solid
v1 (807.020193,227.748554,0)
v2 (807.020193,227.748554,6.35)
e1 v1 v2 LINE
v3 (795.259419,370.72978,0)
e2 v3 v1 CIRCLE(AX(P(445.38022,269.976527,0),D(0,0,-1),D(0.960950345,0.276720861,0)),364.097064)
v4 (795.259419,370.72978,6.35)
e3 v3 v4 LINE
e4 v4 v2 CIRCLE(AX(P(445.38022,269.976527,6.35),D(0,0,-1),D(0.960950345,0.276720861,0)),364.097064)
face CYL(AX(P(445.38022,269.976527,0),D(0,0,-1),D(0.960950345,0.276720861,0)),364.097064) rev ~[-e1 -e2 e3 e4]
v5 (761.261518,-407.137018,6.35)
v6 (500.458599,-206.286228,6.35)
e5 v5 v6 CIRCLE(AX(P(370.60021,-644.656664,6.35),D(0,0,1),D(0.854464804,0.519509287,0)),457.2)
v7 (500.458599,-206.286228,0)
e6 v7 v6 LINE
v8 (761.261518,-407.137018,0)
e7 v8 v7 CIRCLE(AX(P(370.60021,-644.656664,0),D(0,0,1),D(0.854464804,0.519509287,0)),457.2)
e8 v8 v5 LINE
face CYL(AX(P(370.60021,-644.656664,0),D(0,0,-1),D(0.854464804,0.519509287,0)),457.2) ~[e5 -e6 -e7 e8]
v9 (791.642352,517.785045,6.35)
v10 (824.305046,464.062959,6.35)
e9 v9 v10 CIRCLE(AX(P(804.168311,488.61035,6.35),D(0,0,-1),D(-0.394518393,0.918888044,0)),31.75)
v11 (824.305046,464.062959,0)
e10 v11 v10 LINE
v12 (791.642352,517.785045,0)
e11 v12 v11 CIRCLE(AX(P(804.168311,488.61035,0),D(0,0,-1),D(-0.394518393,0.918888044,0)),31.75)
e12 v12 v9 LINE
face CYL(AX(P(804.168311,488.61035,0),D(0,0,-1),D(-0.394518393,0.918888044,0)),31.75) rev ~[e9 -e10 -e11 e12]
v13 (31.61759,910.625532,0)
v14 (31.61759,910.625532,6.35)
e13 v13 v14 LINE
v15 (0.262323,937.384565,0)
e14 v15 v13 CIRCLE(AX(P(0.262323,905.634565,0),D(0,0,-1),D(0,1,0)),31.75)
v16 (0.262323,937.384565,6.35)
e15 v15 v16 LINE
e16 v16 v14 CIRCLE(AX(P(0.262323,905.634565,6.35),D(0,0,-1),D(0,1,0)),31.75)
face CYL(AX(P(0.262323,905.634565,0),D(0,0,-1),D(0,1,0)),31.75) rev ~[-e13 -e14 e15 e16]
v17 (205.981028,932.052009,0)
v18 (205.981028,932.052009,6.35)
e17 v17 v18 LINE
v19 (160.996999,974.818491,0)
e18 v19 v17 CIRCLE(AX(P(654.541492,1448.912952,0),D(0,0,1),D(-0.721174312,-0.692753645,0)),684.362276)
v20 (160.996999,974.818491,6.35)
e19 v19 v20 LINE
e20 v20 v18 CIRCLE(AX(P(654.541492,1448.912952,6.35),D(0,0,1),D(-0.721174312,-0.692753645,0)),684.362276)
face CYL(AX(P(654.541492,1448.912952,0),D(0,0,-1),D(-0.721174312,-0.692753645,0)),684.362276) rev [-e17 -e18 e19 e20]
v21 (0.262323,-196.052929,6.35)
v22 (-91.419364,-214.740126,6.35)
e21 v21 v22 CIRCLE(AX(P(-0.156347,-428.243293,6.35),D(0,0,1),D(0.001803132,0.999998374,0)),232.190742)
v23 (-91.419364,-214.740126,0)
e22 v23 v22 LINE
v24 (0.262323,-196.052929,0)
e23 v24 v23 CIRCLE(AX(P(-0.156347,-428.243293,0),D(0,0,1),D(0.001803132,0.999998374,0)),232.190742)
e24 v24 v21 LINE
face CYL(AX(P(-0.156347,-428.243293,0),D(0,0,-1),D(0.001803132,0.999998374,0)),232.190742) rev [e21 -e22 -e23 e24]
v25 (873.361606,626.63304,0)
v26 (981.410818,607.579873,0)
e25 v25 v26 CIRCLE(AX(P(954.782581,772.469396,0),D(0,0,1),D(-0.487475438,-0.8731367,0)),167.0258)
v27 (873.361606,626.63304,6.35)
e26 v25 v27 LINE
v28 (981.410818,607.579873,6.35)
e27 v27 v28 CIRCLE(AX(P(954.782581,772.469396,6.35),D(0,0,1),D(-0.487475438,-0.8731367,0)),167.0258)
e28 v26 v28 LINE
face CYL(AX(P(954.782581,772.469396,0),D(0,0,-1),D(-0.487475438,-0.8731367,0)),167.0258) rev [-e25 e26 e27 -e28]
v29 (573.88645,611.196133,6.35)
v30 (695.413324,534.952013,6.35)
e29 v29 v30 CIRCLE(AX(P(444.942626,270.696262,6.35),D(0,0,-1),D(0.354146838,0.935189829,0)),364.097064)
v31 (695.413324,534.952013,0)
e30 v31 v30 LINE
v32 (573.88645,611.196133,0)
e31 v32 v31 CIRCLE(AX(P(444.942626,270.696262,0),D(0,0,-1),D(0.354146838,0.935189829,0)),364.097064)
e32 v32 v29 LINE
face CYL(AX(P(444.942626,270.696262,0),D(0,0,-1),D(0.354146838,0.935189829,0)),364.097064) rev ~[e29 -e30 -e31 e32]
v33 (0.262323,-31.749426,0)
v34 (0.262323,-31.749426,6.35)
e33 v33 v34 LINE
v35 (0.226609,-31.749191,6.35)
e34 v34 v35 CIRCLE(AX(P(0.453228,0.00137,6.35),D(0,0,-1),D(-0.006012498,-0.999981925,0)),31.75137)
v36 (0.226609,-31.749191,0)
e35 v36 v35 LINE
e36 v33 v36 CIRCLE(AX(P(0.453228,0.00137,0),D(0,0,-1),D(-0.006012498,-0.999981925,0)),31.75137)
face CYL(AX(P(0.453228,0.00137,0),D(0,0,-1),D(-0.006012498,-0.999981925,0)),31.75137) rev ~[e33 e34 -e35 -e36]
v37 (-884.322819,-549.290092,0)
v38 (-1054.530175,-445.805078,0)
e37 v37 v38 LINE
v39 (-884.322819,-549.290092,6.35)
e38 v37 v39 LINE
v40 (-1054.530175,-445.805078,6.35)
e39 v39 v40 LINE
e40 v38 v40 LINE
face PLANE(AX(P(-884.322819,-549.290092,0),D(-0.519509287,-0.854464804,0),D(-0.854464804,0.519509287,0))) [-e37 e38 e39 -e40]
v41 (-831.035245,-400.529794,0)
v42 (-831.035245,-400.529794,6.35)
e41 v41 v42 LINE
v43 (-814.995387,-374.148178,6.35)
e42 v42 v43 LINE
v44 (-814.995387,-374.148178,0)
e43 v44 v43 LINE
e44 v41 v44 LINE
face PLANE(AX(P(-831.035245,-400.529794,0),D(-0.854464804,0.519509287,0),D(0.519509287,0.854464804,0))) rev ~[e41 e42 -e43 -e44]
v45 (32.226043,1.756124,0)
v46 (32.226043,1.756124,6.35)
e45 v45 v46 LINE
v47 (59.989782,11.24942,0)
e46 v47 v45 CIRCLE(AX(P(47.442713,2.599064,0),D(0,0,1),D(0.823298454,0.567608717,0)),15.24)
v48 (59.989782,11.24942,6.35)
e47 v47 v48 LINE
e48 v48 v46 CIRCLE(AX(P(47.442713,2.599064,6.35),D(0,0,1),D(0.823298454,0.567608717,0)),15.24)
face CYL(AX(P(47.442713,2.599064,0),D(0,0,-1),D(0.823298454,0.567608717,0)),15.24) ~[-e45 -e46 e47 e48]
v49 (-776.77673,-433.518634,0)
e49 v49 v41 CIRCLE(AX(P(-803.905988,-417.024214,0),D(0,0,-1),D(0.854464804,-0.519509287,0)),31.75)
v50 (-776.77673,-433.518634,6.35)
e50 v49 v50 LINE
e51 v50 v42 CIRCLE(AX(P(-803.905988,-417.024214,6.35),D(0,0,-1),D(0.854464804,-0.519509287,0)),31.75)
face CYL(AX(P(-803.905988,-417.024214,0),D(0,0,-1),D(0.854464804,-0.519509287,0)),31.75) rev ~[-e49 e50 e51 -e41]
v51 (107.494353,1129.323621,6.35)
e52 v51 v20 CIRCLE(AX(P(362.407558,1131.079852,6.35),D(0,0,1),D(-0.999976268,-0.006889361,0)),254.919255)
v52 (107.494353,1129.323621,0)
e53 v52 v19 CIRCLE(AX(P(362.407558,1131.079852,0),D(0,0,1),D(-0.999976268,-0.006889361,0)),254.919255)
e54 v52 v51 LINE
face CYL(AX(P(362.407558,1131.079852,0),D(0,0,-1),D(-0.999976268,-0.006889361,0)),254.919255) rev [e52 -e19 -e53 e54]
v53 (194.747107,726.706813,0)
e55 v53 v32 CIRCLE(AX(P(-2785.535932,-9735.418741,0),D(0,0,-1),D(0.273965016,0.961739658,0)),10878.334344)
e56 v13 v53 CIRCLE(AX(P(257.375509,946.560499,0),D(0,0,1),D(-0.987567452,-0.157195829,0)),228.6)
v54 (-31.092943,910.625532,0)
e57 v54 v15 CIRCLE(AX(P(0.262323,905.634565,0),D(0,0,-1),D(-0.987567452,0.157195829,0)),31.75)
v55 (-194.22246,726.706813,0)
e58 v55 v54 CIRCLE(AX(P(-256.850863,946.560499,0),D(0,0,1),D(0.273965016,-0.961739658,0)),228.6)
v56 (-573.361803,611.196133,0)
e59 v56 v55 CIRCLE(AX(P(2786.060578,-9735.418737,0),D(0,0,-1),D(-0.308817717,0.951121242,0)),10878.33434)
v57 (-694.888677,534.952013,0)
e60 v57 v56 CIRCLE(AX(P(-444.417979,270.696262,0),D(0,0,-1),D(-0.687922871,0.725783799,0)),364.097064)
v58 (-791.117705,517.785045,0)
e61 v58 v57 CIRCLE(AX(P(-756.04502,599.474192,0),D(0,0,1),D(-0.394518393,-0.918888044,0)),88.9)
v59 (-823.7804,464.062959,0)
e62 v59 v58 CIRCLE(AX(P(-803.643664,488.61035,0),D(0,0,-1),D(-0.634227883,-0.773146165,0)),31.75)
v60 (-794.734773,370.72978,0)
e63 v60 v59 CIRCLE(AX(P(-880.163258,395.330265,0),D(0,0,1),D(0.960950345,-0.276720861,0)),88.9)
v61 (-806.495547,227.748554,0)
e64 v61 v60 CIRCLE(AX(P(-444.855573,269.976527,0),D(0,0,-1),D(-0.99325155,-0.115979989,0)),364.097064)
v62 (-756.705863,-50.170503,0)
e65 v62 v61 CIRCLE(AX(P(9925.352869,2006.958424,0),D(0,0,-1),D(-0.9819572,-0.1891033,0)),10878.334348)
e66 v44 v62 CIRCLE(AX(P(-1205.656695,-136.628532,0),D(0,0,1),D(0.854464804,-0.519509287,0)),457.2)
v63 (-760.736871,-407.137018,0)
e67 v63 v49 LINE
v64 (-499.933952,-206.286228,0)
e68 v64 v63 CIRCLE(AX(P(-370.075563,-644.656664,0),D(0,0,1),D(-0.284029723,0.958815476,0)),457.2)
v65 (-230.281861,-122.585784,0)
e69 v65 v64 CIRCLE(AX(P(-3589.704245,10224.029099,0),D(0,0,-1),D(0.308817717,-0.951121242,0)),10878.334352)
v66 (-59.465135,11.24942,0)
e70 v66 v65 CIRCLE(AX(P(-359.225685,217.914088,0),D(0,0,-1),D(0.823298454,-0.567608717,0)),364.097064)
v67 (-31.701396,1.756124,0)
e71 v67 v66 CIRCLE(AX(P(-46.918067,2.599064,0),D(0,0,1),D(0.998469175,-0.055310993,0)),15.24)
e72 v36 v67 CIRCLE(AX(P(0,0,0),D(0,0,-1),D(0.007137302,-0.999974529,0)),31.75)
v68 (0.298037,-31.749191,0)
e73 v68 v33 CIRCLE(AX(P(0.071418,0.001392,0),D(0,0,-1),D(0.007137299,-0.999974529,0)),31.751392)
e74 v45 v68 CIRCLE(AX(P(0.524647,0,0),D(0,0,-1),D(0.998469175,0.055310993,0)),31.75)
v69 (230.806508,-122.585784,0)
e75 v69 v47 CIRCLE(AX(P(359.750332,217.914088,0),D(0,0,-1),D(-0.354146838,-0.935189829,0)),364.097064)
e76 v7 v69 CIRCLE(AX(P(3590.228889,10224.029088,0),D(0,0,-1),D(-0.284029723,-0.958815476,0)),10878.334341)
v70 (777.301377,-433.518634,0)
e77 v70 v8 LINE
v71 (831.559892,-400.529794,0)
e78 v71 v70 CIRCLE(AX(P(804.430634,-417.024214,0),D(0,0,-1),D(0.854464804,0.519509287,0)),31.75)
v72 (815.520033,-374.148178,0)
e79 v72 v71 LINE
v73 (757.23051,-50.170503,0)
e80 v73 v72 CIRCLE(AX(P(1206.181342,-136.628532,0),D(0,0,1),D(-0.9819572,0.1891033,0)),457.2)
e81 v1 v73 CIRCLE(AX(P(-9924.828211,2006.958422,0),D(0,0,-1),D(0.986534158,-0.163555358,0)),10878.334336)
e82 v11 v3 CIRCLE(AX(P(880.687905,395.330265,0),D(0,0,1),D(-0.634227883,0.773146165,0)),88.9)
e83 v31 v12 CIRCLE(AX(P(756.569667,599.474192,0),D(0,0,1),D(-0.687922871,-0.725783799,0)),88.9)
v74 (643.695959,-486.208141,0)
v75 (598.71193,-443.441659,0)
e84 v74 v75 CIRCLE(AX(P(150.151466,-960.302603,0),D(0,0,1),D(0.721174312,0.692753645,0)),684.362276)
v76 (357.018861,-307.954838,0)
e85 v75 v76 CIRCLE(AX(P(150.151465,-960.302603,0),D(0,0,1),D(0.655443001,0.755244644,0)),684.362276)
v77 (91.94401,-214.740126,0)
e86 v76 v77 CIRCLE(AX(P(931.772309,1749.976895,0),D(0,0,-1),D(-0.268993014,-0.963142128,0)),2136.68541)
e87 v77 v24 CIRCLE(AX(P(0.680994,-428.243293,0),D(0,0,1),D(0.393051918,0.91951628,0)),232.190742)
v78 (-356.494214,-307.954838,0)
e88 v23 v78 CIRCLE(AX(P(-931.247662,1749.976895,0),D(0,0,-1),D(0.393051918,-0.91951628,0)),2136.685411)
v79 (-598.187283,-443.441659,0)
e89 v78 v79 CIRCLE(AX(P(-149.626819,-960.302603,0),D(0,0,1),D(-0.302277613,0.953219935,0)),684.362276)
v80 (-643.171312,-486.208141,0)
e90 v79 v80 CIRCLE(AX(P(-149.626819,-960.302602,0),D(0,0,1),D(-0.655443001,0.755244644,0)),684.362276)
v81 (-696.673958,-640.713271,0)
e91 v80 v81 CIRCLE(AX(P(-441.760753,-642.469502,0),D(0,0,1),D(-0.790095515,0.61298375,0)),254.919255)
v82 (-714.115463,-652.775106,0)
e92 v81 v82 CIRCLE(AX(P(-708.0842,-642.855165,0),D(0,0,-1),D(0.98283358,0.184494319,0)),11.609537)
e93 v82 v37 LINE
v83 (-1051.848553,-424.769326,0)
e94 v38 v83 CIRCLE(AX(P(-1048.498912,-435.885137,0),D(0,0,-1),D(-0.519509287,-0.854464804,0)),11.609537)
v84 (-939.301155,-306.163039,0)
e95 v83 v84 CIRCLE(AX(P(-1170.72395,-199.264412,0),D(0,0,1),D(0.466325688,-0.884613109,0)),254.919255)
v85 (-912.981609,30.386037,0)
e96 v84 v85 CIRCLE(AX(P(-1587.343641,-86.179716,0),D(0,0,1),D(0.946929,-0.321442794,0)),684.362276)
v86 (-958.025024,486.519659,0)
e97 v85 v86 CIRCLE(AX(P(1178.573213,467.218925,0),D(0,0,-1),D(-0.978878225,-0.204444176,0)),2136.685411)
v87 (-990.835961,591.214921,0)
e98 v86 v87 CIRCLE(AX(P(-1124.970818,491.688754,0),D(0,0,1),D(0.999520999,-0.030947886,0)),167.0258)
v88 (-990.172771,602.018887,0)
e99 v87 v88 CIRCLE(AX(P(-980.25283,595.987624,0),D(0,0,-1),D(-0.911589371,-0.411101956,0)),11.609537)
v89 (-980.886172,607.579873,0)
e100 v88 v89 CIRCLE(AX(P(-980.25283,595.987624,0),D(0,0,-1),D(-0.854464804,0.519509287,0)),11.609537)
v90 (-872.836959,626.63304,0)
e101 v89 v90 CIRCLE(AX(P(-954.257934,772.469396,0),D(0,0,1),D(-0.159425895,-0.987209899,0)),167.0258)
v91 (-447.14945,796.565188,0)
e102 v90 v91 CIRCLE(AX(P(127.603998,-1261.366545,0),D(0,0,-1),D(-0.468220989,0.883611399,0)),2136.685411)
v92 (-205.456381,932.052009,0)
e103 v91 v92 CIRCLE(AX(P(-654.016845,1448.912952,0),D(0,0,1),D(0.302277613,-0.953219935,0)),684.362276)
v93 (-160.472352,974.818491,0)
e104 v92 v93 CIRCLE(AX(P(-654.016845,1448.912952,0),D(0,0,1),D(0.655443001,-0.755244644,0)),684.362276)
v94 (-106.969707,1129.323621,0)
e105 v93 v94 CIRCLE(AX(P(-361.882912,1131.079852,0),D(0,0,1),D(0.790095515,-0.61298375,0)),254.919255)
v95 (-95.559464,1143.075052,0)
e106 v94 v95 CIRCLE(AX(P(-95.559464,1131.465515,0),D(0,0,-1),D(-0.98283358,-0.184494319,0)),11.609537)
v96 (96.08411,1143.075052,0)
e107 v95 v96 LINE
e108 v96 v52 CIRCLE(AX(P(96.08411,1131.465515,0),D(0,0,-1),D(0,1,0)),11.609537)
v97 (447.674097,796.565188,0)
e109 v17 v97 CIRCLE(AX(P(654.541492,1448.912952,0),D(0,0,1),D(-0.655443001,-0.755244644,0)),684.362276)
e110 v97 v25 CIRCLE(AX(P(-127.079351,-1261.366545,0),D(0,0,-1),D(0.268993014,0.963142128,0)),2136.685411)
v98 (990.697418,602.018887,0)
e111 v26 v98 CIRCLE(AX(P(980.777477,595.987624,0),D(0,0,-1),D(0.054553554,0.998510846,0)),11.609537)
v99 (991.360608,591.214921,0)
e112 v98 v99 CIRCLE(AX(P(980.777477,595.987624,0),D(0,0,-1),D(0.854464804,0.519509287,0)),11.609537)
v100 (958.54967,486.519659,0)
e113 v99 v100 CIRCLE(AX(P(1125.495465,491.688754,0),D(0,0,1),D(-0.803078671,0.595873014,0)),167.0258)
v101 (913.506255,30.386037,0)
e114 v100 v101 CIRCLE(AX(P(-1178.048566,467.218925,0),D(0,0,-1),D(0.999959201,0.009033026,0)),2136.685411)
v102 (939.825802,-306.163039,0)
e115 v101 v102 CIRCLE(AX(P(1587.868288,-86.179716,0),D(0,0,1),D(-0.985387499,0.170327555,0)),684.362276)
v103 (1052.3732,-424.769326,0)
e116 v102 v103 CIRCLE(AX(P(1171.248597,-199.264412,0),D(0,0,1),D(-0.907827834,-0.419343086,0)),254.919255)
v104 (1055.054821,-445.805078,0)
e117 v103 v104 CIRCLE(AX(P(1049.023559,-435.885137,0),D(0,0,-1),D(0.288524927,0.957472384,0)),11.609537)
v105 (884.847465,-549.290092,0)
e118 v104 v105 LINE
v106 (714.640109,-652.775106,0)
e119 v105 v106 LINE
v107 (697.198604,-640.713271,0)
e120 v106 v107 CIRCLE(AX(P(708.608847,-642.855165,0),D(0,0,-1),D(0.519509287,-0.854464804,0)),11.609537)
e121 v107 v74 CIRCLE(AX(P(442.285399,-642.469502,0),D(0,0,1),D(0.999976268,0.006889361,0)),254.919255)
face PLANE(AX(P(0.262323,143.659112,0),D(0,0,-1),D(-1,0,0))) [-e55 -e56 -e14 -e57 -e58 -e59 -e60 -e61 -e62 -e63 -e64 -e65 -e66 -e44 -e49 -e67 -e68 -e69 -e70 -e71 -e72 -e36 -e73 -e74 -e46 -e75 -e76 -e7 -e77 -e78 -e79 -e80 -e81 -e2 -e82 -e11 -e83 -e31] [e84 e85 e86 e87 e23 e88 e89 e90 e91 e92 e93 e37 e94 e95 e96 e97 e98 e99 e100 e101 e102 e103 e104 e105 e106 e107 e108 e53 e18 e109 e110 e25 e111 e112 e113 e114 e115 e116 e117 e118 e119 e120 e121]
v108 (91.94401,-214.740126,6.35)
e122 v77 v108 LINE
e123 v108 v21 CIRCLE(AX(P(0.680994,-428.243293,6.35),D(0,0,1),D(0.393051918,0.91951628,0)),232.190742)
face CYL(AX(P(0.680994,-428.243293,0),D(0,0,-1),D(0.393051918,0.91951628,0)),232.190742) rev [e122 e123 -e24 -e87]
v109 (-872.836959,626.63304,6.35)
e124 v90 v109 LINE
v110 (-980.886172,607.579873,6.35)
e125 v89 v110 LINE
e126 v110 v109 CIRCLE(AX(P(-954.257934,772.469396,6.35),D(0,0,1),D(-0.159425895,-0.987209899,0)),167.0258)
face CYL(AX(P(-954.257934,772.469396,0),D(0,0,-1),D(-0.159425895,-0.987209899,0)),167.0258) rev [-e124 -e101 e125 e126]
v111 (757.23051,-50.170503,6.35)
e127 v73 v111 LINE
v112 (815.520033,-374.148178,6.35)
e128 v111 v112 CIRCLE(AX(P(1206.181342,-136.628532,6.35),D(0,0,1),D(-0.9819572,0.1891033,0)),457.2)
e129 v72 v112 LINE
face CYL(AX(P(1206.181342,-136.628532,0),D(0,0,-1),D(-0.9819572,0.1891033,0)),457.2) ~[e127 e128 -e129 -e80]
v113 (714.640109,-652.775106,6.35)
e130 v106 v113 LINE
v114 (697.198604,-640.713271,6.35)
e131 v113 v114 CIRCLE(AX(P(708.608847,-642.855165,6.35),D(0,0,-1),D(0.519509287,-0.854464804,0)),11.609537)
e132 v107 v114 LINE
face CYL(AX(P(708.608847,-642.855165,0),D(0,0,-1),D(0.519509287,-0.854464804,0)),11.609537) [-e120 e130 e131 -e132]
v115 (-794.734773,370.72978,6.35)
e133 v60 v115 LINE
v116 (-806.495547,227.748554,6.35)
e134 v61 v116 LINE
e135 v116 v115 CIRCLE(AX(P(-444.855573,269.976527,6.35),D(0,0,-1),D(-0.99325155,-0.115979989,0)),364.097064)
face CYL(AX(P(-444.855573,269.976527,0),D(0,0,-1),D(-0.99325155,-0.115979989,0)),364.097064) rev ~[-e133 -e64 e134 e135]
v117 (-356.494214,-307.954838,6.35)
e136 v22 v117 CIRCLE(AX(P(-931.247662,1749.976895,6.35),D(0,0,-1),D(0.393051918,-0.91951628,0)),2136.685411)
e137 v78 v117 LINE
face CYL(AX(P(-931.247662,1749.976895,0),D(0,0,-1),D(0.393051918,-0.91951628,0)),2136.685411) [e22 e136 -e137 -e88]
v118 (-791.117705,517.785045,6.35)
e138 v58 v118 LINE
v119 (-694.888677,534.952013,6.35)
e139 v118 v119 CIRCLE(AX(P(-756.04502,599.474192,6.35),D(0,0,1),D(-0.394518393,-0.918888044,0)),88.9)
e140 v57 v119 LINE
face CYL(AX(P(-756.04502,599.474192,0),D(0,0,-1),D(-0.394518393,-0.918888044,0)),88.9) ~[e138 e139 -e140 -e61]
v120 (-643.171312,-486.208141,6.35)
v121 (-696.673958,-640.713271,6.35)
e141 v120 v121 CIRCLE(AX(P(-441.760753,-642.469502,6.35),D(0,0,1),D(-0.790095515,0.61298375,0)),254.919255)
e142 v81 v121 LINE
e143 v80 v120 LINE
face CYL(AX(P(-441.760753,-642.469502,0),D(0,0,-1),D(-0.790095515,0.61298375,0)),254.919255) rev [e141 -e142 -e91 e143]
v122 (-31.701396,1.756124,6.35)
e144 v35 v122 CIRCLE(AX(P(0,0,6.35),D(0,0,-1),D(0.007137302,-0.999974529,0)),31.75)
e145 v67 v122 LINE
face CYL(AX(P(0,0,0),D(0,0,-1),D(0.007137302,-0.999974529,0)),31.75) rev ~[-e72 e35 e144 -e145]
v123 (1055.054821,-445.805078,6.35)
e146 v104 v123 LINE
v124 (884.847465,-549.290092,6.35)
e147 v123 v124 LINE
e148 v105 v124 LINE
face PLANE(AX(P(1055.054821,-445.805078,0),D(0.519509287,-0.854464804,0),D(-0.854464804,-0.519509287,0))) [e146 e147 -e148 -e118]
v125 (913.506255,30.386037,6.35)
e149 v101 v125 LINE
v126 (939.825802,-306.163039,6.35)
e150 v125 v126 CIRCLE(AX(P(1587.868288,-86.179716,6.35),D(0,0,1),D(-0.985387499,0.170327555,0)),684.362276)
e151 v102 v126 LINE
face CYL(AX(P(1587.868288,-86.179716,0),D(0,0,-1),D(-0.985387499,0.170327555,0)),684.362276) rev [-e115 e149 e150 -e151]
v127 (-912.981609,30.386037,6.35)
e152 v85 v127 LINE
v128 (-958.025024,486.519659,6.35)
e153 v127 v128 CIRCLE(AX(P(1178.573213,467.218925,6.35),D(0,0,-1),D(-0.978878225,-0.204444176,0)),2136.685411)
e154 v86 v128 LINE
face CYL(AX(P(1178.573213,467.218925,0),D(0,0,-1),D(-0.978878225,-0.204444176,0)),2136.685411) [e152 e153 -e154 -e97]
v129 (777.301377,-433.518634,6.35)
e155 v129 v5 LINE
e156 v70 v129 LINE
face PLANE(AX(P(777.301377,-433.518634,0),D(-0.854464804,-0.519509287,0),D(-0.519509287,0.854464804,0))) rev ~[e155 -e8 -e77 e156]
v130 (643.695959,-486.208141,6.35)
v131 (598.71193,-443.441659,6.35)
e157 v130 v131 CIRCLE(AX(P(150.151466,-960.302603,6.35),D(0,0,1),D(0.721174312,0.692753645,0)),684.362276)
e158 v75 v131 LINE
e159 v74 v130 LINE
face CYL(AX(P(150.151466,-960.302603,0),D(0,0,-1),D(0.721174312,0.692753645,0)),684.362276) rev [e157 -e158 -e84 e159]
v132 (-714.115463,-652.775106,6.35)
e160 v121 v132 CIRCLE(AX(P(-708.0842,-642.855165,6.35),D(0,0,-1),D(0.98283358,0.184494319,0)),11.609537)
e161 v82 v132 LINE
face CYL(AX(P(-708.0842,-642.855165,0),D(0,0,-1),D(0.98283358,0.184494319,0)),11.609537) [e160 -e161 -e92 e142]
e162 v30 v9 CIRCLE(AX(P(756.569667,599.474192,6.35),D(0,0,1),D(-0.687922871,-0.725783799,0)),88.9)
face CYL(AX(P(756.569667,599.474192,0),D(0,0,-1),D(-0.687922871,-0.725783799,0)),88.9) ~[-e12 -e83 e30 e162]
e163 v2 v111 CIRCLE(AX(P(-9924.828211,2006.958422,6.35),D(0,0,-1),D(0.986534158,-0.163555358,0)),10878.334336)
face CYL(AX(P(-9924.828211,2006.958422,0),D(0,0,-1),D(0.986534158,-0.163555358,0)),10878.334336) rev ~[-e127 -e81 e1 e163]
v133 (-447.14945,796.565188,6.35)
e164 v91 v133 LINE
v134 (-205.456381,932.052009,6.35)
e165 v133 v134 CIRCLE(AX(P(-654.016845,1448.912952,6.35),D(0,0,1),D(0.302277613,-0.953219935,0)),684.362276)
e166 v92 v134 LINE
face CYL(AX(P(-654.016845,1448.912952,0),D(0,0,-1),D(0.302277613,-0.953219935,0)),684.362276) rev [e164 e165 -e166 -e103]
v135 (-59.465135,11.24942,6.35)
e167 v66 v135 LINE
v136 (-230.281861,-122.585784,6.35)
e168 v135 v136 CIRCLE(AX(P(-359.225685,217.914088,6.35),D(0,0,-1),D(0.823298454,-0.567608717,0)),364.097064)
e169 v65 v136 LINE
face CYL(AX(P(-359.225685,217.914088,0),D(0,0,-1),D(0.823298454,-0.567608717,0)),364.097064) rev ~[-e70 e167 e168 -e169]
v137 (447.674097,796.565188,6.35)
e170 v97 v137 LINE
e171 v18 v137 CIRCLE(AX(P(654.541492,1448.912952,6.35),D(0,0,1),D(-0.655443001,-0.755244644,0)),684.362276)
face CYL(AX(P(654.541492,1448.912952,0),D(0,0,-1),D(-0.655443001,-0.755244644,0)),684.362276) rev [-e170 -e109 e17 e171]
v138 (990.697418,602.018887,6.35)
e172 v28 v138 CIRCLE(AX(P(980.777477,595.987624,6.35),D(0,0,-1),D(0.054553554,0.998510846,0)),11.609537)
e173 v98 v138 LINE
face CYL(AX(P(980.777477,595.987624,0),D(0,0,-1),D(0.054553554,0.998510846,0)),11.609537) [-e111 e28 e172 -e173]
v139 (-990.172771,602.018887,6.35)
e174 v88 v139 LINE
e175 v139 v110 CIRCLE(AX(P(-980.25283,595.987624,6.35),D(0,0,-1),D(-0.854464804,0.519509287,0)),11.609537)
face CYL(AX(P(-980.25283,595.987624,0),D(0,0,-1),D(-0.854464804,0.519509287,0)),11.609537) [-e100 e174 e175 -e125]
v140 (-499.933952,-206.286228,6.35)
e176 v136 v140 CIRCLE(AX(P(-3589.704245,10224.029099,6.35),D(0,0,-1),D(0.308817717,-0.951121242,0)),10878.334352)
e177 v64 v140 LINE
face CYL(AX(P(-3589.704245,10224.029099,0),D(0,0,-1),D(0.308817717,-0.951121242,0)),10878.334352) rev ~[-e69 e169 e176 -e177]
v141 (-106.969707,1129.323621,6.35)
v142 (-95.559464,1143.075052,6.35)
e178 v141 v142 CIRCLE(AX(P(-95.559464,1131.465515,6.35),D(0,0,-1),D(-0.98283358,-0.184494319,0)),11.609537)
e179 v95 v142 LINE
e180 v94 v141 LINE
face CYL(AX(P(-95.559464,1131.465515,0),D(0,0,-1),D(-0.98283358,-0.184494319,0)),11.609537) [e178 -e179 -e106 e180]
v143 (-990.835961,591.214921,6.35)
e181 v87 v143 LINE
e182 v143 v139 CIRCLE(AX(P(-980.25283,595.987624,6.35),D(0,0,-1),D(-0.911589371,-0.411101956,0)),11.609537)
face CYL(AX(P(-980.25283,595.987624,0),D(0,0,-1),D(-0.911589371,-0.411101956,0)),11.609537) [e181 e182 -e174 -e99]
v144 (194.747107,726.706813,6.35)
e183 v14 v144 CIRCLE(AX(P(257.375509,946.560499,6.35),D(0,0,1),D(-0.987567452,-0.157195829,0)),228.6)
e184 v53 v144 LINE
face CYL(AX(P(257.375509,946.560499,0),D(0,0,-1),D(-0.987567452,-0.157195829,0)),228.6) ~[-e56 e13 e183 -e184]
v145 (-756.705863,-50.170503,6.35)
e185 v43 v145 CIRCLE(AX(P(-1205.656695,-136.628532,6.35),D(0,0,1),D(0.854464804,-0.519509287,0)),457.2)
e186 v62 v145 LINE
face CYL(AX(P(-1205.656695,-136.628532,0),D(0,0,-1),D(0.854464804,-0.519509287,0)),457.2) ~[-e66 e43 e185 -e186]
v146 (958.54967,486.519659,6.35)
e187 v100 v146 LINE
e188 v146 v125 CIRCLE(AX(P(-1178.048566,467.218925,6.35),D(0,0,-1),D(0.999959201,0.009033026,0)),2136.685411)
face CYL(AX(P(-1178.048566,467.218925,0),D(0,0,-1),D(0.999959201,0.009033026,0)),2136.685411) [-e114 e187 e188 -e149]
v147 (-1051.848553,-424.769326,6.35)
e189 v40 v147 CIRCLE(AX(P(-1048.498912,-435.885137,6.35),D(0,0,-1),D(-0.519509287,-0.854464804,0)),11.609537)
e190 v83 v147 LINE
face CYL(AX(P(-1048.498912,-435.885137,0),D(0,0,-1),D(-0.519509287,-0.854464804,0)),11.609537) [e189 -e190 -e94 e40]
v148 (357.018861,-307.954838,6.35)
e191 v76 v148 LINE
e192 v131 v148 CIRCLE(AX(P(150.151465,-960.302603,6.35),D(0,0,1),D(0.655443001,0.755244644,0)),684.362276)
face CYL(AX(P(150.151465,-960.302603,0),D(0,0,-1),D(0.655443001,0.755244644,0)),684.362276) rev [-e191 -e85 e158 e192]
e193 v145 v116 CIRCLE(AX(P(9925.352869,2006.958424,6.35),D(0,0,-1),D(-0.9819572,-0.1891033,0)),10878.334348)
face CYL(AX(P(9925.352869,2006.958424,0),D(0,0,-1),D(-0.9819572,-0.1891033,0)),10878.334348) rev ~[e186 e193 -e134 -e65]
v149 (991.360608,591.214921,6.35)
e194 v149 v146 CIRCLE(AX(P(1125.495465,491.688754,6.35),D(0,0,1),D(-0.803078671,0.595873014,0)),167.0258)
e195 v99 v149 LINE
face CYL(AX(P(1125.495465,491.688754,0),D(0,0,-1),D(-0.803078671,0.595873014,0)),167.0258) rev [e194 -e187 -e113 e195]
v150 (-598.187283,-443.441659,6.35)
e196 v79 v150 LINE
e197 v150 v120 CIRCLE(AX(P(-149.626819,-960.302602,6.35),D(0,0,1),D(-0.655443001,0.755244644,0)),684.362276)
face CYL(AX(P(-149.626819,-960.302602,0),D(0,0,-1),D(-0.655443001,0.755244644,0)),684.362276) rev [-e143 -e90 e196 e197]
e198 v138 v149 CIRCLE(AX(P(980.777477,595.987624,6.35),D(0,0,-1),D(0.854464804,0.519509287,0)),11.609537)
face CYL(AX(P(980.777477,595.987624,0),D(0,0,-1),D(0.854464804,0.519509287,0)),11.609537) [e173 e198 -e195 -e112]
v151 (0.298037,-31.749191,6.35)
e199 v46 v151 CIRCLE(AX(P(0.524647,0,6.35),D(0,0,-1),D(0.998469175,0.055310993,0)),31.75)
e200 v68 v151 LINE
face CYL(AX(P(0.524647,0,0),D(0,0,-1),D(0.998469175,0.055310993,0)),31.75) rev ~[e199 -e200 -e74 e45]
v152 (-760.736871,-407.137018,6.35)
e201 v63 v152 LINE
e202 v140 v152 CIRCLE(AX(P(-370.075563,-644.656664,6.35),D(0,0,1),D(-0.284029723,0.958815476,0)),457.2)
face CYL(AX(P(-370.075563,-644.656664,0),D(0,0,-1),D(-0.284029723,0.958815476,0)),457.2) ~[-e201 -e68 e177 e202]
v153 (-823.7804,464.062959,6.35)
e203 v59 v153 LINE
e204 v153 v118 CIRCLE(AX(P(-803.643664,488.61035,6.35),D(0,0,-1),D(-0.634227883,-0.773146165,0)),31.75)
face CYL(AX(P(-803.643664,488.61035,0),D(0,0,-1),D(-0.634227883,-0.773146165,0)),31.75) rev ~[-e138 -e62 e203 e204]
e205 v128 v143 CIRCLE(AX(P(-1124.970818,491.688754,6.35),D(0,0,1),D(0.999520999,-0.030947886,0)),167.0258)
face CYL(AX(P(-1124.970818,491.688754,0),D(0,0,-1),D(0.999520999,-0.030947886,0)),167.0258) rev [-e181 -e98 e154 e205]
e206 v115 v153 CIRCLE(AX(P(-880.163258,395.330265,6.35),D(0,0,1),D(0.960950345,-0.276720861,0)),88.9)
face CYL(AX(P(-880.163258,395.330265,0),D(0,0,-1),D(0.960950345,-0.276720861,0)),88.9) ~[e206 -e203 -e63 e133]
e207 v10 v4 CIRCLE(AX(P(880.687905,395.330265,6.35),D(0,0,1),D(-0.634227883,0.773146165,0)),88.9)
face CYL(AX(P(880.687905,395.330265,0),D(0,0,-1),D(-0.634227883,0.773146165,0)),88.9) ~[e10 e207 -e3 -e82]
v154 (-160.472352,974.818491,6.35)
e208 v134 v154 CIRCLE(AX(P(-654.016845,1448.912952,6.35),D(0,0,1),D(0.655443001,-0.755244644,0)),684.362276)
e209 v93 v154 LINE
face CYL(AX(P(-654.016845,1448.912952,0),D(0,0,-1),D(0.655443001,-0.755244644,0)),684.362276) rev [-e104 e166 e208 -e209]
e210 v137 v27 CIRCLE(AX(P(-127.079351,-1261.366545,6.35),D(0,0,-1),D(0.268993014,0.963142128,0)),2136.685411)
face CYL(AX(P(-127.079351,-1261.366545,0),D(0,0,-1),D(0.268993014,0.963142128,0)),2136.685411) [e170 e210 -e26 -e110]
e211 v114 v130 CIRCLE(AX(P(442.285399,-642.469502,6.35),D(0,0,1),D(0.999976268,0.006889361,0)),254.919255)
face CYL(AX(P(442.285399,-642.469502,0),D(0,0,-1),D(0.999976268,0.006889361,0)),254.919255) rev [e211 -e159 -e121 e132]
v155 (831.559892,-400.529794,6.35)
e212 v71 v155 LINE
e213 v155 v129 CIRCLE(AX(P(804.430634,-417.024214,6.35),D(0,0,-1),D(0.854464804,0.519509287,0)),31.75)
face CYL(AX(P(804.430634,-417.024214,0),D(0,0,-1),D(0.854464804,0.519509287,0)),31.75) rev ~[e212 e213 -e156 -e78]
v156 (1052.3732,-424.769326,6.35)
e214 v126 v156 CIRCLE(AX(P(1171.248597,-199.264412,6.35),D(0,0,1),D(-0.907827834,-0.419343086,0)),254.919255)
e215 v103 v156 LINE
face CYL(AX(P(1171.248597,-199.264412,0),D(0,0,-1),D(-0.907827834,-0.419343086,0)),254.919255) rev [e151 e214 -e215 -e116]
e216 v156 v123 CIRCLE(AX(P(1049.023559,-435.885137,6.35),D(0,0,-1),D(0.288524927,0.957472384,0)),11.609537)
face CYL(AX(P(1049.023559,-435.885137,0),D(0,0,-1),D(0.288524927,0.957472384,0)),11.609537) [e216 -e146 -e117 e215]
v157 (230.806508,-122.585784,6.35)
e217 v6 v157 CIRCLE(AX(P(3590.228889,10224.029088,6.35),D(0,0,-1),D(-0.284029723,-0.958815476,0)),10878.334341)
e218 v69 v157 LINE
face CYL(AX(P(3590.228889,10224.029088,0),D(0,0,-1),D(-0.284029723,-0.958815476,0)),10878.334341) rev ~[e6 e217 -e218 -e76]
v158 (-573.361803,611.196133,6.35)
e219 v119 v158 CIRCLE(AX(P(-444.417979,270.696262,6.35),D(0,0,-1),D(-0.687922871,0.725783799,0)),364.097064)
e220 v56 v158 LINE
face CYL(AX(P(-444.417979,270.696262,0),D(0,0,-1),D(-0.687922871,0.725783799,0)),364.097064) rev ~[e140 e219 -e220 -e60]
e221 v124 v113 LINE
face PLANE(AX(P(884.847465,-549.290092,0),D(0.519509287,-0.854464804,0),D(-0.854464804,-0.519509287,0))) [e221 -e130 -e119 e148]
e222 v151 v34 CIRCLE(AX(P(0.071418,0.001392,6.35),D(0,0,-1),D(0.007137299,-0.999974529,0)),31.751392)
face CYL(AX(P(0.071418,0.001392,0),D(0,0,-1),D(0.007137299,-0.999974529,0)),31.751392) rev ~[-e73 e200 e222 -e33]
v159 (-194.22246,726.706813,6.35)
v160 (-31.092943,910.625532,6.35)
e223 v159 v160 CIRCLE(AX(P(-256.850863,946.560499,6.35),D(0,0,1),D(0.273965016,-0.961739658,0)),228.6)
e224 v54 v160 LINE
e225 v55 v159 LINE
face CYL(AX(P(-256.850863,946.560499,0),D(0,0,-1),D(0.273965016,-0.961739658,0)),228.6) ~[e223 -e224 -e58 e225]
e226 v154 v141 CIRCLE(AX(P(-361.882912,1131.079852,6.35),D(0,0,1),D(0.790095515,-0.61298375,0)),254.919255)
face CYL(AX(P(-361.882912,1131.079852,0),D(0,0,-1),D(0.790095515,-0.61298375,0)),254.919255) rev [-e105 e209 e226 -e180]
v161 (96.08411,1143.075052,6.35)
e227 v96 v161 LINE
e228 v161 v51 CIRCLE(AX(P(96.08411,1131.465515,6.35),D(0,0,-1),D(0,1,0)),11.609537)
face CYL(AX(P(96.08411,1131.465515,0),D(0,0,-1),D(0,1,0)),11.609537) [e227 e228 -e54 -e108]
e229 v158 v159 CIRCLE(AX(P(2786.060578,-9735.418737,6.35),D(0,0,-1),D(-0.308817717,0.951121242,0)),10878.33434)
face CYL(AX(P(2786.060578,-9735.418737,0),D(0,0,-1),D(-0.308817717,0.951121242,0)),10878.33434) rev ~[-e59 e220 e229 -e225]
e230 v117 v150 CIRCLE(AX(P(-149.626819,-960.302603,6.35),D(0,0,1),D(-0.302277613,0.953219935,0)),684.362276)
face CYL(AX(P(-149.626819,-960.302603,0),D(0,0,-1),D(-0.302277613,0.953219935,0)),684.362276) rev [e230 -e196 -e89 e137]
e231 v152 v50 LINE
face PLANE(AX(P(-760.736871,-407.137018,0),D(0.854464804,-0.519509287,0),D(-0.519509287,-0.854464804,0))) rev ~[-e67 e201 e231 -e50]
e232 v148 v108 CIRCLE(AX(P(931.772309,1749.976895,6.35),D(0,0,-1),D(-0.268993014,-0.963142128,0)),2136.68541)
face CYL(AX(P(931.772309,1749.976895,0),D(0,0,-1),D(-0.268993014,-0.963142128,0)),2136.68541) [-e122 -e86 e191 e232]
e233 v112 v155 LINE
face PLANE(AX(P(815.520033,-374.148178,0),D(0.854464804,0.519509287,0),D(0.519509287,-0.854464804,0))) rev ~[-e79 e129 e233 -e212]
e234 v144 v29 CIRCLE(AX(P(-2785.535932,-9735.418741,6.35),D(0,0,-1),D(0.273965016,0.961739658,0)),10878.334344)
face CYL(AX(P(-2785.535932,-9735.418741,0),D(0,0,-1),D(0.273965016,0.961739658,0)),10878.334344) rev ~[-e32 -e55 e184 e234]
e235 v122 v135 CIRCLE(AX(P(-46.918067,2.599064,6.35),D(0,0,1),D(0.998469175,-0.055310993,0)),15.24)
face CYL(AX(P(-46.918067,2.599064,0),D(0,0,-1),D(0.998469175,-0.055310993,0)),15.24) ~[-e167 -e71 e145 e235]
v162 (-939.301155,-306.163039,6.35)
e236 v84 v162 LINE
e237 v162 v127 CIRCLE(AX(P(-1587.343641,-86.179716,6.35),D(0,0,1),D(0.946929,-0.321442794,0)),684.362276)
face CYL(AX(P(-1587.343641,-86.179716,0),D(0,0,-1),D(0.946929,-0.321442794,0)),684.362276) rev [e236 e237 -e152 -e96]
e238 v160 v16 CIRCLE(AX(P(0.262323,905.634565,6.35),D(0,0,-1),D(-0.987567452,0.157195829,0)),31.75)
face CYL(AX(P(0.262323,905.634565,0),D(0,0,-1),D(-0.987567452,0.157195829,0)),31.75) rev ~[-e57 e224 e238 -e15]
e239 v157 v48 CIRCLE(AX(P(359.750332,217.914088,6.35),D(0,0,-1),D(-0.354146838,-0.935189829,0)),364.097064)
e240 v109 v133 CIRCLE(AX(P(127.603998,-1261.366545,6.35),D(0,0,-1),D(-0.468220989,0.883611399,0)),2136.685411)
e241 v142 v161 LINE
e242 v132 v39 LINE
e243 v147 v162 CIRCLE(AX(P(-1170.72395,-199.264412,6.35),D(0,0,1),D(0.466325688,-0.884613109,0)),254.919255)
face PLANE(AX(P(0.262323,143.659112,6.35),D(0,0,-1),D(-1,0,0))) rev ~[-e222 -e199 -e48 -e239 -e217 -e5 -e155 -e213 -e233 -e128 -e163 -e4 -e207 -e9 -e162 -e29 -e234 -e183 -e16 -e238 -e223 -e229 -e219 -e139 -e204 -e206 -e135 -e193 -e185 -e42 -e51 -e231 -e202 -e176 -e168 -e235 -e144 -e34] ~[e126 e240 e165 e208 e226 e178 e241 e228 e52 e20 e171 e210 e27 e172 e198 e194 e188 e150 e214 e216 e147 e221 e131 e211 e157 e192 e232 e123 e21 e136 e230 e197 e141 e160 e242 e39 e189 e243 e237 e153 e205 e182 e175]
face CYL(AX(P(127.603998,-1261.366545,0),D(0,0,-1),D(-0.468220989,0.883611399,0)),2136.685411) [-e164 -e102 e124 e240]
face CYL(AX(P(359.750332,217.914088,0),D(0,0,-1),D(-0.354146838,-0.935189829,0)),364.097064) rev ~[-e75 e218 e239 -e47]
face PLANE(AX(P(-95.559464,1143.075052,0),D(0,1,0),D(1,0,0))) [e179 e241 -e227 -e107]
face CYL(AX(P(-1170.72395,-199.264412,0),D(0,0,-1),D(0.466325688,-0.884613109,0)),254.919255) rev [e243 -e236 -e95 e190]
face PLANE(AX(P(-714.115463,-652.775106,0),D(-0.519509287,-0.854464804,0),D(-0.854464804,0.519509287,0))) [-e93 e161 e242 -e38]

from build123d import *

# Parameters (mm, degrees)
BOSS_EXTRUDE1_DEPTH = 6.35


with BuildPart() as part:
    # Model → Boss-Extrude1 (new body)
    with BuildSketch(Plane.XY):
        with BuildLine():
            Line((-1054.530174704, -445.805078084), (-884.322818744, -549.29009194))
            Line((-884.322818744, -549.29009194), (-714.115462784, -652.775105795))
            ThreePointArc((-714.115462784, -652.775105795), (-701.480767956, -652.403779037), (-696.673957546, -640.713271323))
            ThreePointArc((-696.673957546, -640.713271323), (-682.646209507, -559.054736821), (-643.171312347, -486.208141388))
            ThreePointArc((-643.171312347, -486.208141388), (-621.164389939, -464.314654904), (-598.187283298, -443.44165908))
            ThreePointArc((-598.187283298, -443.44165908), (-484.269299036, -363.338503482), (-356.49421429, -307.954838084))
            ThreePointArc((-356.49421429, -307.954838084), (-222.422842463, -265.70956843), (-91.419363532, -214.740126023))
            ThreePointArc((-91.419363532, -214.740126023), (-46.529578977, -200.730515706), (0.262323317, -196.052928909))
            ThreePointArc((0.262323317, -196.052928909), (47.054225612, -200.730515706), (91.944010166, -214.740126023))
            ThreePointArc((91.944010166, -214.740126023), (222.947489099, -265.709568431), (357.018860928, -307.954838085))
            ThreePointArc((357.018860928, -307.954838085), (484.793945672, -363.338503483), (598.711929932, -443.44165908))
            ThreePointArc((598.711929932, -443.44165908), (621.689036573, -464.314654904), (643.695958982, -486.208141388))
            ThreePointArc((643.695958982, -486.208141388), (683.170856142, -559.054736821), (697.19860418, -640.713271323))
            ThreePointArc((697.19860418, -640.713271323), (702.005414591, -652.403779037), (714.640109418, -652.775105795))
            Line((714.640109418, -652.775105795), (884.847465378, -549.29009194))
            Line((884.847465378, -549.29009194), (1055.054821338, -445.805078084))
            ThreePointArc((1055.054821338, -445.805078084), (1060.539897468, -434.417043276), (1052.373199847, -424.76932609))
            ThreePointArc((1052.373199847, -424.76932609), (986.332213878, -374.734516765), (939.825801838, -306.163038647))
            ThreePointArc((939.825801838, -306.163038647), (905.589204406, -139.536796819), (913.506255339, 30.386036768))
            ThreePointArc((913.506255339, 30.386036768), (948.294313295, 257.241539714), (958.549670474, 486.519658693))
            ThreePointArc((958.549670474, 486.519658693), (966.113332281, 541.638264925), (991.360607576, 591.214920954))
            ThreePointArc((991.360607576, 591.214920954), (992.365203384, 596.69892445), (990.697417794, 602.018886698))
            ThreePointArc((990.697417794, 602.018886698), (986.741878389, 605.947908853), (981.410818468, 607.57987307))
            ThreePointArc((981.410818468, 607.57987307), (925.777119065, 607.981399504), (873.361605838, 626.633040341))
            ThreePointArc((873.361605838, 626.633040341), (665.08766839, 723.046707283), (447.674096575, 796.565187843))
            ThreePointArc((447.674096575, 796.565187843), (319.899011826, 851.948853241), (205.981027563, 932.05200884))
            ThreePointArc((205.981027563, 932.05200884), (183.003920922, 952.925004664), (160.996998513, 974.818491148))
            ThreePointArc((160.996998513, 974.818491148), (121.522101353, 1047.665086581), (107.494353315, 1129.323621083))
            ThreePointArc((107.494353315, 1129.323621083), (105.018531072, 1138.878845883), (96.08411041, 1143.075051813))
            Line((96.08411041, 1143.075051813), (0.262323317, 1143.075051813))
            Line((0.262323317, 1143.075051813), (-95.559463776, 1143.075051813))
            ThreePointArc((-95.559463776, 1143.075051813), (-104.493884438, 1138.878845883), (-106.969706681, 1129.323621083))
            ThreePointArc((-106.969706681, 1129.323621083), (-120.997454719, 1047.665086581), (-160.472351879, 974.818491148))
            ThreePointArc((-160.472351879, 974.818491148), (-182.479274288, 952.925004664), (-205.456380929, 932.05200884))
            ThreePointArc((-205.456380929, 932.05200884), (-319.374365192, 851.948853241), (-447.149449941, 796.565187843))
            ThreePointArc((-447.149449941, 796.565187843), (-664.563021755, 723.046707284), (-872.836959201, 626.633040343))
            ThreePointArc((-872.836959201, 626.633040343), (-925.252472429, 607.981399504), (-980.886171834, 607.57987307))
            ThreePointArc((-980.886171834, 607.57987307), (-986.217231755, 605.947908853), (-990.17277116, 602.018886698))
            ThreePointArc((-990.17277116, 602.018886698), (-991.84055675, 596.69892445), (-990.835960942, 591.214920954))
            ThreePointArc((-990.835960942, 591.214920954), (-965.588685647, 541.638264925), (-958.02502384, 486.519658693))
            ThreePointArc((-958.02502384, 486.519658693), (-947.769666661, 257.241539714), (-912.981608705, 30.386036767))
            ThreePointArc((-912.981608705, 30.386036767), (-905.064557772, -139.536796819), (-939.301155204, -306.163038647))
            ThreePointArc((-939.301155204, -306.163038647), (-985.807567244, -374.734516765), (-1051.848553213, -424.76932609))
            ThreePointArc((-1051.848553213, -424.76932609), (-1060.015250834, -434.417043276), (-1054.530174704, -445.805078084))
        make_face()
        with BuildLine():
            ThreePointArc((-776.776730114, -433.518633987), (-820.400407489, -444.153471661), (-831.035245163, -400.529794286))
            Line((-831.035245163, -400.529794286), (-814.995386538, -374.148178004))
            ThreePointArc((-814.995386538, -374.148178004), (-755.681673534, -217.587288079), (-756.705863237, -50.170503258))
            ThreePointArc((-756.705863237, -50.170503258), (-782.502405832, 88.627483964), (-806.4955468, 227.748553731))
            ThreePointArc((-806.4955468, 227.748553731), (-807.727163724, 299.824157666), (-794.734772679, 370.729780417))
            ThreePointArc((-794.734772679, 370.729780417), (-795.278719619, 421.74664414), (-823.780399516, 464.062959025))
            ThreePointArc((-823.780399516, 464.062959025), (-830.772921751, 505.10476961), (-791.117705256, 517.785045164))
            ThreePointArc((-791.117705256, 517.785045164), (-740.432028836, 511.955939897), (-694.888676898, 534.952012531))
            ThreePointArc((-694.888676898, 534.952012531), (-637.917685406, 579.118919726), (-573.361803176, 611.196133327))
            ThreePointArc((-573.361803176, 611.196133327), (-384.318244806, 670.678328168), (-194.222460106, 726.706812923))
            ThreePointArc((-194.222460106, 726.706812923), (-85.829836181, 794.87078756), (-31.092943269, 910.625532232))
            ThreePointArc((-31.092943269, 910.625532232), (-20.348344787, 929.785400257), (0.262323317, 937.384564654))
            ThreePointArc((0.262323317, 937.384564654), (20.872991421, 929.785400257), (31.617589903, 910.625532232))
            ThreePointArc((31.617589903, 910.625532232), (86.354482821, 794.870787553), (194.747106759, 726.706812918))
            ThreePointArc((194.747106759, 726.706812918), (384.842891449, 670.678328165), (573.886449811, 611.196133327))
            ThreePointArc((573.886449811, 611.196133327), (638.44233204, 579.118919726), (695.413323532, 534.952012531))
            ThreePointArc((695.413323532, 534.952012531), (740.95667547, 511.955939897), (791.642351891, 517.785045164))
            ThreePointArc((791.642351891, 517.785045164), (831.297568385, 505.10476961), (824.30504615, 464.062959025))
            ThreePointArc((824.30504615, 464.062959025), (795.803366253, 421.74664414), (795.259419313, 370.729780417))
            ThreePointArc((795.259419313, 370.729780417), (808.251810359, 299.824157666), (807.020193434, 227.748553731))
            ThreePointArc((807.020193434, 227.748553731), (783.027052467, 88.627483964), (757.230509871, -50.170503258))
            ThreePointArc((757.230509871, -50.170503258), (756.206320168, -217.587288079), (815.520033172, -374.148178004))
            Line((815.520033172, -374.148178004), (831.559891797, -400.529794286))
            ThreePointArc((831.559891797, -400.529794286), (820.925054123, -444.153471661), (777.301376749, -433.518633987))
            Line((777.301376749, -433.518633987), (761.261518123, -407.137017703))
            ThreePointArc((761.261518123, -407.137017703), (649.563377324, -282.425534082), (500.458599124, -206.28622805))
            ThreePointArc((500.458599124, -206.28622805), (365.360989591, -165.310884678), (230.806507684, -122.585783567))
            ThreePointArc((230.806507684, -122.585783567), (135.195604422, -68.689901345), (59.989781623, 11.249420395))
            ThreePointArc((59.989781623, 11.249420395), (42.5119564, 17.019369979), (32.226042951, 1.756124019))
            ThreePointArc((32.226042951, 1.756124019), (23.509796029, -21.903091273), (0.298037309, -31.7491913))
            ThreePointArc((0.298037309, -31.7491913), (0.280180346, -31.749313732), (0.262323317, -31.749426121))
            ThreePointArc((0.262323317, -31.749426121), (0.244466288, -31.749313732), (0.226609326, -31.7491913))
            ThreePointArc((0.226609326, -31.7491913), (-22.985149395, -21.903091273), (-31.701396317, 1.756124019))
            ThreePointArc((-31.701396317, 1.756124019), (-41.987309766, 17.019369979), (-59.465134989, 11.249420395))
            ThreePointArc((-59.465134989, 11.249420395), (-134.670957788, -68.689901345), (-230.28186105, -122.585783567))
            ThreePointArc((-230.28186105, -122.585783567), (-364.836342957, -165.310884677), (-499.93395249, -206.28622805))
            ThreePointArc((-499.93395249, -206.28622805), (-649.038730689, -282.425534082), (-760.736871489, -407.137017703))
            Line((-760.736871489, -407.137017703), (-776.776730114, -433.518633987))
        make_face(mode=Mode.SUBTRACT)
    extrude(amount=BOSS_EXTRUDE1_DEPTH)


solid = part.part
